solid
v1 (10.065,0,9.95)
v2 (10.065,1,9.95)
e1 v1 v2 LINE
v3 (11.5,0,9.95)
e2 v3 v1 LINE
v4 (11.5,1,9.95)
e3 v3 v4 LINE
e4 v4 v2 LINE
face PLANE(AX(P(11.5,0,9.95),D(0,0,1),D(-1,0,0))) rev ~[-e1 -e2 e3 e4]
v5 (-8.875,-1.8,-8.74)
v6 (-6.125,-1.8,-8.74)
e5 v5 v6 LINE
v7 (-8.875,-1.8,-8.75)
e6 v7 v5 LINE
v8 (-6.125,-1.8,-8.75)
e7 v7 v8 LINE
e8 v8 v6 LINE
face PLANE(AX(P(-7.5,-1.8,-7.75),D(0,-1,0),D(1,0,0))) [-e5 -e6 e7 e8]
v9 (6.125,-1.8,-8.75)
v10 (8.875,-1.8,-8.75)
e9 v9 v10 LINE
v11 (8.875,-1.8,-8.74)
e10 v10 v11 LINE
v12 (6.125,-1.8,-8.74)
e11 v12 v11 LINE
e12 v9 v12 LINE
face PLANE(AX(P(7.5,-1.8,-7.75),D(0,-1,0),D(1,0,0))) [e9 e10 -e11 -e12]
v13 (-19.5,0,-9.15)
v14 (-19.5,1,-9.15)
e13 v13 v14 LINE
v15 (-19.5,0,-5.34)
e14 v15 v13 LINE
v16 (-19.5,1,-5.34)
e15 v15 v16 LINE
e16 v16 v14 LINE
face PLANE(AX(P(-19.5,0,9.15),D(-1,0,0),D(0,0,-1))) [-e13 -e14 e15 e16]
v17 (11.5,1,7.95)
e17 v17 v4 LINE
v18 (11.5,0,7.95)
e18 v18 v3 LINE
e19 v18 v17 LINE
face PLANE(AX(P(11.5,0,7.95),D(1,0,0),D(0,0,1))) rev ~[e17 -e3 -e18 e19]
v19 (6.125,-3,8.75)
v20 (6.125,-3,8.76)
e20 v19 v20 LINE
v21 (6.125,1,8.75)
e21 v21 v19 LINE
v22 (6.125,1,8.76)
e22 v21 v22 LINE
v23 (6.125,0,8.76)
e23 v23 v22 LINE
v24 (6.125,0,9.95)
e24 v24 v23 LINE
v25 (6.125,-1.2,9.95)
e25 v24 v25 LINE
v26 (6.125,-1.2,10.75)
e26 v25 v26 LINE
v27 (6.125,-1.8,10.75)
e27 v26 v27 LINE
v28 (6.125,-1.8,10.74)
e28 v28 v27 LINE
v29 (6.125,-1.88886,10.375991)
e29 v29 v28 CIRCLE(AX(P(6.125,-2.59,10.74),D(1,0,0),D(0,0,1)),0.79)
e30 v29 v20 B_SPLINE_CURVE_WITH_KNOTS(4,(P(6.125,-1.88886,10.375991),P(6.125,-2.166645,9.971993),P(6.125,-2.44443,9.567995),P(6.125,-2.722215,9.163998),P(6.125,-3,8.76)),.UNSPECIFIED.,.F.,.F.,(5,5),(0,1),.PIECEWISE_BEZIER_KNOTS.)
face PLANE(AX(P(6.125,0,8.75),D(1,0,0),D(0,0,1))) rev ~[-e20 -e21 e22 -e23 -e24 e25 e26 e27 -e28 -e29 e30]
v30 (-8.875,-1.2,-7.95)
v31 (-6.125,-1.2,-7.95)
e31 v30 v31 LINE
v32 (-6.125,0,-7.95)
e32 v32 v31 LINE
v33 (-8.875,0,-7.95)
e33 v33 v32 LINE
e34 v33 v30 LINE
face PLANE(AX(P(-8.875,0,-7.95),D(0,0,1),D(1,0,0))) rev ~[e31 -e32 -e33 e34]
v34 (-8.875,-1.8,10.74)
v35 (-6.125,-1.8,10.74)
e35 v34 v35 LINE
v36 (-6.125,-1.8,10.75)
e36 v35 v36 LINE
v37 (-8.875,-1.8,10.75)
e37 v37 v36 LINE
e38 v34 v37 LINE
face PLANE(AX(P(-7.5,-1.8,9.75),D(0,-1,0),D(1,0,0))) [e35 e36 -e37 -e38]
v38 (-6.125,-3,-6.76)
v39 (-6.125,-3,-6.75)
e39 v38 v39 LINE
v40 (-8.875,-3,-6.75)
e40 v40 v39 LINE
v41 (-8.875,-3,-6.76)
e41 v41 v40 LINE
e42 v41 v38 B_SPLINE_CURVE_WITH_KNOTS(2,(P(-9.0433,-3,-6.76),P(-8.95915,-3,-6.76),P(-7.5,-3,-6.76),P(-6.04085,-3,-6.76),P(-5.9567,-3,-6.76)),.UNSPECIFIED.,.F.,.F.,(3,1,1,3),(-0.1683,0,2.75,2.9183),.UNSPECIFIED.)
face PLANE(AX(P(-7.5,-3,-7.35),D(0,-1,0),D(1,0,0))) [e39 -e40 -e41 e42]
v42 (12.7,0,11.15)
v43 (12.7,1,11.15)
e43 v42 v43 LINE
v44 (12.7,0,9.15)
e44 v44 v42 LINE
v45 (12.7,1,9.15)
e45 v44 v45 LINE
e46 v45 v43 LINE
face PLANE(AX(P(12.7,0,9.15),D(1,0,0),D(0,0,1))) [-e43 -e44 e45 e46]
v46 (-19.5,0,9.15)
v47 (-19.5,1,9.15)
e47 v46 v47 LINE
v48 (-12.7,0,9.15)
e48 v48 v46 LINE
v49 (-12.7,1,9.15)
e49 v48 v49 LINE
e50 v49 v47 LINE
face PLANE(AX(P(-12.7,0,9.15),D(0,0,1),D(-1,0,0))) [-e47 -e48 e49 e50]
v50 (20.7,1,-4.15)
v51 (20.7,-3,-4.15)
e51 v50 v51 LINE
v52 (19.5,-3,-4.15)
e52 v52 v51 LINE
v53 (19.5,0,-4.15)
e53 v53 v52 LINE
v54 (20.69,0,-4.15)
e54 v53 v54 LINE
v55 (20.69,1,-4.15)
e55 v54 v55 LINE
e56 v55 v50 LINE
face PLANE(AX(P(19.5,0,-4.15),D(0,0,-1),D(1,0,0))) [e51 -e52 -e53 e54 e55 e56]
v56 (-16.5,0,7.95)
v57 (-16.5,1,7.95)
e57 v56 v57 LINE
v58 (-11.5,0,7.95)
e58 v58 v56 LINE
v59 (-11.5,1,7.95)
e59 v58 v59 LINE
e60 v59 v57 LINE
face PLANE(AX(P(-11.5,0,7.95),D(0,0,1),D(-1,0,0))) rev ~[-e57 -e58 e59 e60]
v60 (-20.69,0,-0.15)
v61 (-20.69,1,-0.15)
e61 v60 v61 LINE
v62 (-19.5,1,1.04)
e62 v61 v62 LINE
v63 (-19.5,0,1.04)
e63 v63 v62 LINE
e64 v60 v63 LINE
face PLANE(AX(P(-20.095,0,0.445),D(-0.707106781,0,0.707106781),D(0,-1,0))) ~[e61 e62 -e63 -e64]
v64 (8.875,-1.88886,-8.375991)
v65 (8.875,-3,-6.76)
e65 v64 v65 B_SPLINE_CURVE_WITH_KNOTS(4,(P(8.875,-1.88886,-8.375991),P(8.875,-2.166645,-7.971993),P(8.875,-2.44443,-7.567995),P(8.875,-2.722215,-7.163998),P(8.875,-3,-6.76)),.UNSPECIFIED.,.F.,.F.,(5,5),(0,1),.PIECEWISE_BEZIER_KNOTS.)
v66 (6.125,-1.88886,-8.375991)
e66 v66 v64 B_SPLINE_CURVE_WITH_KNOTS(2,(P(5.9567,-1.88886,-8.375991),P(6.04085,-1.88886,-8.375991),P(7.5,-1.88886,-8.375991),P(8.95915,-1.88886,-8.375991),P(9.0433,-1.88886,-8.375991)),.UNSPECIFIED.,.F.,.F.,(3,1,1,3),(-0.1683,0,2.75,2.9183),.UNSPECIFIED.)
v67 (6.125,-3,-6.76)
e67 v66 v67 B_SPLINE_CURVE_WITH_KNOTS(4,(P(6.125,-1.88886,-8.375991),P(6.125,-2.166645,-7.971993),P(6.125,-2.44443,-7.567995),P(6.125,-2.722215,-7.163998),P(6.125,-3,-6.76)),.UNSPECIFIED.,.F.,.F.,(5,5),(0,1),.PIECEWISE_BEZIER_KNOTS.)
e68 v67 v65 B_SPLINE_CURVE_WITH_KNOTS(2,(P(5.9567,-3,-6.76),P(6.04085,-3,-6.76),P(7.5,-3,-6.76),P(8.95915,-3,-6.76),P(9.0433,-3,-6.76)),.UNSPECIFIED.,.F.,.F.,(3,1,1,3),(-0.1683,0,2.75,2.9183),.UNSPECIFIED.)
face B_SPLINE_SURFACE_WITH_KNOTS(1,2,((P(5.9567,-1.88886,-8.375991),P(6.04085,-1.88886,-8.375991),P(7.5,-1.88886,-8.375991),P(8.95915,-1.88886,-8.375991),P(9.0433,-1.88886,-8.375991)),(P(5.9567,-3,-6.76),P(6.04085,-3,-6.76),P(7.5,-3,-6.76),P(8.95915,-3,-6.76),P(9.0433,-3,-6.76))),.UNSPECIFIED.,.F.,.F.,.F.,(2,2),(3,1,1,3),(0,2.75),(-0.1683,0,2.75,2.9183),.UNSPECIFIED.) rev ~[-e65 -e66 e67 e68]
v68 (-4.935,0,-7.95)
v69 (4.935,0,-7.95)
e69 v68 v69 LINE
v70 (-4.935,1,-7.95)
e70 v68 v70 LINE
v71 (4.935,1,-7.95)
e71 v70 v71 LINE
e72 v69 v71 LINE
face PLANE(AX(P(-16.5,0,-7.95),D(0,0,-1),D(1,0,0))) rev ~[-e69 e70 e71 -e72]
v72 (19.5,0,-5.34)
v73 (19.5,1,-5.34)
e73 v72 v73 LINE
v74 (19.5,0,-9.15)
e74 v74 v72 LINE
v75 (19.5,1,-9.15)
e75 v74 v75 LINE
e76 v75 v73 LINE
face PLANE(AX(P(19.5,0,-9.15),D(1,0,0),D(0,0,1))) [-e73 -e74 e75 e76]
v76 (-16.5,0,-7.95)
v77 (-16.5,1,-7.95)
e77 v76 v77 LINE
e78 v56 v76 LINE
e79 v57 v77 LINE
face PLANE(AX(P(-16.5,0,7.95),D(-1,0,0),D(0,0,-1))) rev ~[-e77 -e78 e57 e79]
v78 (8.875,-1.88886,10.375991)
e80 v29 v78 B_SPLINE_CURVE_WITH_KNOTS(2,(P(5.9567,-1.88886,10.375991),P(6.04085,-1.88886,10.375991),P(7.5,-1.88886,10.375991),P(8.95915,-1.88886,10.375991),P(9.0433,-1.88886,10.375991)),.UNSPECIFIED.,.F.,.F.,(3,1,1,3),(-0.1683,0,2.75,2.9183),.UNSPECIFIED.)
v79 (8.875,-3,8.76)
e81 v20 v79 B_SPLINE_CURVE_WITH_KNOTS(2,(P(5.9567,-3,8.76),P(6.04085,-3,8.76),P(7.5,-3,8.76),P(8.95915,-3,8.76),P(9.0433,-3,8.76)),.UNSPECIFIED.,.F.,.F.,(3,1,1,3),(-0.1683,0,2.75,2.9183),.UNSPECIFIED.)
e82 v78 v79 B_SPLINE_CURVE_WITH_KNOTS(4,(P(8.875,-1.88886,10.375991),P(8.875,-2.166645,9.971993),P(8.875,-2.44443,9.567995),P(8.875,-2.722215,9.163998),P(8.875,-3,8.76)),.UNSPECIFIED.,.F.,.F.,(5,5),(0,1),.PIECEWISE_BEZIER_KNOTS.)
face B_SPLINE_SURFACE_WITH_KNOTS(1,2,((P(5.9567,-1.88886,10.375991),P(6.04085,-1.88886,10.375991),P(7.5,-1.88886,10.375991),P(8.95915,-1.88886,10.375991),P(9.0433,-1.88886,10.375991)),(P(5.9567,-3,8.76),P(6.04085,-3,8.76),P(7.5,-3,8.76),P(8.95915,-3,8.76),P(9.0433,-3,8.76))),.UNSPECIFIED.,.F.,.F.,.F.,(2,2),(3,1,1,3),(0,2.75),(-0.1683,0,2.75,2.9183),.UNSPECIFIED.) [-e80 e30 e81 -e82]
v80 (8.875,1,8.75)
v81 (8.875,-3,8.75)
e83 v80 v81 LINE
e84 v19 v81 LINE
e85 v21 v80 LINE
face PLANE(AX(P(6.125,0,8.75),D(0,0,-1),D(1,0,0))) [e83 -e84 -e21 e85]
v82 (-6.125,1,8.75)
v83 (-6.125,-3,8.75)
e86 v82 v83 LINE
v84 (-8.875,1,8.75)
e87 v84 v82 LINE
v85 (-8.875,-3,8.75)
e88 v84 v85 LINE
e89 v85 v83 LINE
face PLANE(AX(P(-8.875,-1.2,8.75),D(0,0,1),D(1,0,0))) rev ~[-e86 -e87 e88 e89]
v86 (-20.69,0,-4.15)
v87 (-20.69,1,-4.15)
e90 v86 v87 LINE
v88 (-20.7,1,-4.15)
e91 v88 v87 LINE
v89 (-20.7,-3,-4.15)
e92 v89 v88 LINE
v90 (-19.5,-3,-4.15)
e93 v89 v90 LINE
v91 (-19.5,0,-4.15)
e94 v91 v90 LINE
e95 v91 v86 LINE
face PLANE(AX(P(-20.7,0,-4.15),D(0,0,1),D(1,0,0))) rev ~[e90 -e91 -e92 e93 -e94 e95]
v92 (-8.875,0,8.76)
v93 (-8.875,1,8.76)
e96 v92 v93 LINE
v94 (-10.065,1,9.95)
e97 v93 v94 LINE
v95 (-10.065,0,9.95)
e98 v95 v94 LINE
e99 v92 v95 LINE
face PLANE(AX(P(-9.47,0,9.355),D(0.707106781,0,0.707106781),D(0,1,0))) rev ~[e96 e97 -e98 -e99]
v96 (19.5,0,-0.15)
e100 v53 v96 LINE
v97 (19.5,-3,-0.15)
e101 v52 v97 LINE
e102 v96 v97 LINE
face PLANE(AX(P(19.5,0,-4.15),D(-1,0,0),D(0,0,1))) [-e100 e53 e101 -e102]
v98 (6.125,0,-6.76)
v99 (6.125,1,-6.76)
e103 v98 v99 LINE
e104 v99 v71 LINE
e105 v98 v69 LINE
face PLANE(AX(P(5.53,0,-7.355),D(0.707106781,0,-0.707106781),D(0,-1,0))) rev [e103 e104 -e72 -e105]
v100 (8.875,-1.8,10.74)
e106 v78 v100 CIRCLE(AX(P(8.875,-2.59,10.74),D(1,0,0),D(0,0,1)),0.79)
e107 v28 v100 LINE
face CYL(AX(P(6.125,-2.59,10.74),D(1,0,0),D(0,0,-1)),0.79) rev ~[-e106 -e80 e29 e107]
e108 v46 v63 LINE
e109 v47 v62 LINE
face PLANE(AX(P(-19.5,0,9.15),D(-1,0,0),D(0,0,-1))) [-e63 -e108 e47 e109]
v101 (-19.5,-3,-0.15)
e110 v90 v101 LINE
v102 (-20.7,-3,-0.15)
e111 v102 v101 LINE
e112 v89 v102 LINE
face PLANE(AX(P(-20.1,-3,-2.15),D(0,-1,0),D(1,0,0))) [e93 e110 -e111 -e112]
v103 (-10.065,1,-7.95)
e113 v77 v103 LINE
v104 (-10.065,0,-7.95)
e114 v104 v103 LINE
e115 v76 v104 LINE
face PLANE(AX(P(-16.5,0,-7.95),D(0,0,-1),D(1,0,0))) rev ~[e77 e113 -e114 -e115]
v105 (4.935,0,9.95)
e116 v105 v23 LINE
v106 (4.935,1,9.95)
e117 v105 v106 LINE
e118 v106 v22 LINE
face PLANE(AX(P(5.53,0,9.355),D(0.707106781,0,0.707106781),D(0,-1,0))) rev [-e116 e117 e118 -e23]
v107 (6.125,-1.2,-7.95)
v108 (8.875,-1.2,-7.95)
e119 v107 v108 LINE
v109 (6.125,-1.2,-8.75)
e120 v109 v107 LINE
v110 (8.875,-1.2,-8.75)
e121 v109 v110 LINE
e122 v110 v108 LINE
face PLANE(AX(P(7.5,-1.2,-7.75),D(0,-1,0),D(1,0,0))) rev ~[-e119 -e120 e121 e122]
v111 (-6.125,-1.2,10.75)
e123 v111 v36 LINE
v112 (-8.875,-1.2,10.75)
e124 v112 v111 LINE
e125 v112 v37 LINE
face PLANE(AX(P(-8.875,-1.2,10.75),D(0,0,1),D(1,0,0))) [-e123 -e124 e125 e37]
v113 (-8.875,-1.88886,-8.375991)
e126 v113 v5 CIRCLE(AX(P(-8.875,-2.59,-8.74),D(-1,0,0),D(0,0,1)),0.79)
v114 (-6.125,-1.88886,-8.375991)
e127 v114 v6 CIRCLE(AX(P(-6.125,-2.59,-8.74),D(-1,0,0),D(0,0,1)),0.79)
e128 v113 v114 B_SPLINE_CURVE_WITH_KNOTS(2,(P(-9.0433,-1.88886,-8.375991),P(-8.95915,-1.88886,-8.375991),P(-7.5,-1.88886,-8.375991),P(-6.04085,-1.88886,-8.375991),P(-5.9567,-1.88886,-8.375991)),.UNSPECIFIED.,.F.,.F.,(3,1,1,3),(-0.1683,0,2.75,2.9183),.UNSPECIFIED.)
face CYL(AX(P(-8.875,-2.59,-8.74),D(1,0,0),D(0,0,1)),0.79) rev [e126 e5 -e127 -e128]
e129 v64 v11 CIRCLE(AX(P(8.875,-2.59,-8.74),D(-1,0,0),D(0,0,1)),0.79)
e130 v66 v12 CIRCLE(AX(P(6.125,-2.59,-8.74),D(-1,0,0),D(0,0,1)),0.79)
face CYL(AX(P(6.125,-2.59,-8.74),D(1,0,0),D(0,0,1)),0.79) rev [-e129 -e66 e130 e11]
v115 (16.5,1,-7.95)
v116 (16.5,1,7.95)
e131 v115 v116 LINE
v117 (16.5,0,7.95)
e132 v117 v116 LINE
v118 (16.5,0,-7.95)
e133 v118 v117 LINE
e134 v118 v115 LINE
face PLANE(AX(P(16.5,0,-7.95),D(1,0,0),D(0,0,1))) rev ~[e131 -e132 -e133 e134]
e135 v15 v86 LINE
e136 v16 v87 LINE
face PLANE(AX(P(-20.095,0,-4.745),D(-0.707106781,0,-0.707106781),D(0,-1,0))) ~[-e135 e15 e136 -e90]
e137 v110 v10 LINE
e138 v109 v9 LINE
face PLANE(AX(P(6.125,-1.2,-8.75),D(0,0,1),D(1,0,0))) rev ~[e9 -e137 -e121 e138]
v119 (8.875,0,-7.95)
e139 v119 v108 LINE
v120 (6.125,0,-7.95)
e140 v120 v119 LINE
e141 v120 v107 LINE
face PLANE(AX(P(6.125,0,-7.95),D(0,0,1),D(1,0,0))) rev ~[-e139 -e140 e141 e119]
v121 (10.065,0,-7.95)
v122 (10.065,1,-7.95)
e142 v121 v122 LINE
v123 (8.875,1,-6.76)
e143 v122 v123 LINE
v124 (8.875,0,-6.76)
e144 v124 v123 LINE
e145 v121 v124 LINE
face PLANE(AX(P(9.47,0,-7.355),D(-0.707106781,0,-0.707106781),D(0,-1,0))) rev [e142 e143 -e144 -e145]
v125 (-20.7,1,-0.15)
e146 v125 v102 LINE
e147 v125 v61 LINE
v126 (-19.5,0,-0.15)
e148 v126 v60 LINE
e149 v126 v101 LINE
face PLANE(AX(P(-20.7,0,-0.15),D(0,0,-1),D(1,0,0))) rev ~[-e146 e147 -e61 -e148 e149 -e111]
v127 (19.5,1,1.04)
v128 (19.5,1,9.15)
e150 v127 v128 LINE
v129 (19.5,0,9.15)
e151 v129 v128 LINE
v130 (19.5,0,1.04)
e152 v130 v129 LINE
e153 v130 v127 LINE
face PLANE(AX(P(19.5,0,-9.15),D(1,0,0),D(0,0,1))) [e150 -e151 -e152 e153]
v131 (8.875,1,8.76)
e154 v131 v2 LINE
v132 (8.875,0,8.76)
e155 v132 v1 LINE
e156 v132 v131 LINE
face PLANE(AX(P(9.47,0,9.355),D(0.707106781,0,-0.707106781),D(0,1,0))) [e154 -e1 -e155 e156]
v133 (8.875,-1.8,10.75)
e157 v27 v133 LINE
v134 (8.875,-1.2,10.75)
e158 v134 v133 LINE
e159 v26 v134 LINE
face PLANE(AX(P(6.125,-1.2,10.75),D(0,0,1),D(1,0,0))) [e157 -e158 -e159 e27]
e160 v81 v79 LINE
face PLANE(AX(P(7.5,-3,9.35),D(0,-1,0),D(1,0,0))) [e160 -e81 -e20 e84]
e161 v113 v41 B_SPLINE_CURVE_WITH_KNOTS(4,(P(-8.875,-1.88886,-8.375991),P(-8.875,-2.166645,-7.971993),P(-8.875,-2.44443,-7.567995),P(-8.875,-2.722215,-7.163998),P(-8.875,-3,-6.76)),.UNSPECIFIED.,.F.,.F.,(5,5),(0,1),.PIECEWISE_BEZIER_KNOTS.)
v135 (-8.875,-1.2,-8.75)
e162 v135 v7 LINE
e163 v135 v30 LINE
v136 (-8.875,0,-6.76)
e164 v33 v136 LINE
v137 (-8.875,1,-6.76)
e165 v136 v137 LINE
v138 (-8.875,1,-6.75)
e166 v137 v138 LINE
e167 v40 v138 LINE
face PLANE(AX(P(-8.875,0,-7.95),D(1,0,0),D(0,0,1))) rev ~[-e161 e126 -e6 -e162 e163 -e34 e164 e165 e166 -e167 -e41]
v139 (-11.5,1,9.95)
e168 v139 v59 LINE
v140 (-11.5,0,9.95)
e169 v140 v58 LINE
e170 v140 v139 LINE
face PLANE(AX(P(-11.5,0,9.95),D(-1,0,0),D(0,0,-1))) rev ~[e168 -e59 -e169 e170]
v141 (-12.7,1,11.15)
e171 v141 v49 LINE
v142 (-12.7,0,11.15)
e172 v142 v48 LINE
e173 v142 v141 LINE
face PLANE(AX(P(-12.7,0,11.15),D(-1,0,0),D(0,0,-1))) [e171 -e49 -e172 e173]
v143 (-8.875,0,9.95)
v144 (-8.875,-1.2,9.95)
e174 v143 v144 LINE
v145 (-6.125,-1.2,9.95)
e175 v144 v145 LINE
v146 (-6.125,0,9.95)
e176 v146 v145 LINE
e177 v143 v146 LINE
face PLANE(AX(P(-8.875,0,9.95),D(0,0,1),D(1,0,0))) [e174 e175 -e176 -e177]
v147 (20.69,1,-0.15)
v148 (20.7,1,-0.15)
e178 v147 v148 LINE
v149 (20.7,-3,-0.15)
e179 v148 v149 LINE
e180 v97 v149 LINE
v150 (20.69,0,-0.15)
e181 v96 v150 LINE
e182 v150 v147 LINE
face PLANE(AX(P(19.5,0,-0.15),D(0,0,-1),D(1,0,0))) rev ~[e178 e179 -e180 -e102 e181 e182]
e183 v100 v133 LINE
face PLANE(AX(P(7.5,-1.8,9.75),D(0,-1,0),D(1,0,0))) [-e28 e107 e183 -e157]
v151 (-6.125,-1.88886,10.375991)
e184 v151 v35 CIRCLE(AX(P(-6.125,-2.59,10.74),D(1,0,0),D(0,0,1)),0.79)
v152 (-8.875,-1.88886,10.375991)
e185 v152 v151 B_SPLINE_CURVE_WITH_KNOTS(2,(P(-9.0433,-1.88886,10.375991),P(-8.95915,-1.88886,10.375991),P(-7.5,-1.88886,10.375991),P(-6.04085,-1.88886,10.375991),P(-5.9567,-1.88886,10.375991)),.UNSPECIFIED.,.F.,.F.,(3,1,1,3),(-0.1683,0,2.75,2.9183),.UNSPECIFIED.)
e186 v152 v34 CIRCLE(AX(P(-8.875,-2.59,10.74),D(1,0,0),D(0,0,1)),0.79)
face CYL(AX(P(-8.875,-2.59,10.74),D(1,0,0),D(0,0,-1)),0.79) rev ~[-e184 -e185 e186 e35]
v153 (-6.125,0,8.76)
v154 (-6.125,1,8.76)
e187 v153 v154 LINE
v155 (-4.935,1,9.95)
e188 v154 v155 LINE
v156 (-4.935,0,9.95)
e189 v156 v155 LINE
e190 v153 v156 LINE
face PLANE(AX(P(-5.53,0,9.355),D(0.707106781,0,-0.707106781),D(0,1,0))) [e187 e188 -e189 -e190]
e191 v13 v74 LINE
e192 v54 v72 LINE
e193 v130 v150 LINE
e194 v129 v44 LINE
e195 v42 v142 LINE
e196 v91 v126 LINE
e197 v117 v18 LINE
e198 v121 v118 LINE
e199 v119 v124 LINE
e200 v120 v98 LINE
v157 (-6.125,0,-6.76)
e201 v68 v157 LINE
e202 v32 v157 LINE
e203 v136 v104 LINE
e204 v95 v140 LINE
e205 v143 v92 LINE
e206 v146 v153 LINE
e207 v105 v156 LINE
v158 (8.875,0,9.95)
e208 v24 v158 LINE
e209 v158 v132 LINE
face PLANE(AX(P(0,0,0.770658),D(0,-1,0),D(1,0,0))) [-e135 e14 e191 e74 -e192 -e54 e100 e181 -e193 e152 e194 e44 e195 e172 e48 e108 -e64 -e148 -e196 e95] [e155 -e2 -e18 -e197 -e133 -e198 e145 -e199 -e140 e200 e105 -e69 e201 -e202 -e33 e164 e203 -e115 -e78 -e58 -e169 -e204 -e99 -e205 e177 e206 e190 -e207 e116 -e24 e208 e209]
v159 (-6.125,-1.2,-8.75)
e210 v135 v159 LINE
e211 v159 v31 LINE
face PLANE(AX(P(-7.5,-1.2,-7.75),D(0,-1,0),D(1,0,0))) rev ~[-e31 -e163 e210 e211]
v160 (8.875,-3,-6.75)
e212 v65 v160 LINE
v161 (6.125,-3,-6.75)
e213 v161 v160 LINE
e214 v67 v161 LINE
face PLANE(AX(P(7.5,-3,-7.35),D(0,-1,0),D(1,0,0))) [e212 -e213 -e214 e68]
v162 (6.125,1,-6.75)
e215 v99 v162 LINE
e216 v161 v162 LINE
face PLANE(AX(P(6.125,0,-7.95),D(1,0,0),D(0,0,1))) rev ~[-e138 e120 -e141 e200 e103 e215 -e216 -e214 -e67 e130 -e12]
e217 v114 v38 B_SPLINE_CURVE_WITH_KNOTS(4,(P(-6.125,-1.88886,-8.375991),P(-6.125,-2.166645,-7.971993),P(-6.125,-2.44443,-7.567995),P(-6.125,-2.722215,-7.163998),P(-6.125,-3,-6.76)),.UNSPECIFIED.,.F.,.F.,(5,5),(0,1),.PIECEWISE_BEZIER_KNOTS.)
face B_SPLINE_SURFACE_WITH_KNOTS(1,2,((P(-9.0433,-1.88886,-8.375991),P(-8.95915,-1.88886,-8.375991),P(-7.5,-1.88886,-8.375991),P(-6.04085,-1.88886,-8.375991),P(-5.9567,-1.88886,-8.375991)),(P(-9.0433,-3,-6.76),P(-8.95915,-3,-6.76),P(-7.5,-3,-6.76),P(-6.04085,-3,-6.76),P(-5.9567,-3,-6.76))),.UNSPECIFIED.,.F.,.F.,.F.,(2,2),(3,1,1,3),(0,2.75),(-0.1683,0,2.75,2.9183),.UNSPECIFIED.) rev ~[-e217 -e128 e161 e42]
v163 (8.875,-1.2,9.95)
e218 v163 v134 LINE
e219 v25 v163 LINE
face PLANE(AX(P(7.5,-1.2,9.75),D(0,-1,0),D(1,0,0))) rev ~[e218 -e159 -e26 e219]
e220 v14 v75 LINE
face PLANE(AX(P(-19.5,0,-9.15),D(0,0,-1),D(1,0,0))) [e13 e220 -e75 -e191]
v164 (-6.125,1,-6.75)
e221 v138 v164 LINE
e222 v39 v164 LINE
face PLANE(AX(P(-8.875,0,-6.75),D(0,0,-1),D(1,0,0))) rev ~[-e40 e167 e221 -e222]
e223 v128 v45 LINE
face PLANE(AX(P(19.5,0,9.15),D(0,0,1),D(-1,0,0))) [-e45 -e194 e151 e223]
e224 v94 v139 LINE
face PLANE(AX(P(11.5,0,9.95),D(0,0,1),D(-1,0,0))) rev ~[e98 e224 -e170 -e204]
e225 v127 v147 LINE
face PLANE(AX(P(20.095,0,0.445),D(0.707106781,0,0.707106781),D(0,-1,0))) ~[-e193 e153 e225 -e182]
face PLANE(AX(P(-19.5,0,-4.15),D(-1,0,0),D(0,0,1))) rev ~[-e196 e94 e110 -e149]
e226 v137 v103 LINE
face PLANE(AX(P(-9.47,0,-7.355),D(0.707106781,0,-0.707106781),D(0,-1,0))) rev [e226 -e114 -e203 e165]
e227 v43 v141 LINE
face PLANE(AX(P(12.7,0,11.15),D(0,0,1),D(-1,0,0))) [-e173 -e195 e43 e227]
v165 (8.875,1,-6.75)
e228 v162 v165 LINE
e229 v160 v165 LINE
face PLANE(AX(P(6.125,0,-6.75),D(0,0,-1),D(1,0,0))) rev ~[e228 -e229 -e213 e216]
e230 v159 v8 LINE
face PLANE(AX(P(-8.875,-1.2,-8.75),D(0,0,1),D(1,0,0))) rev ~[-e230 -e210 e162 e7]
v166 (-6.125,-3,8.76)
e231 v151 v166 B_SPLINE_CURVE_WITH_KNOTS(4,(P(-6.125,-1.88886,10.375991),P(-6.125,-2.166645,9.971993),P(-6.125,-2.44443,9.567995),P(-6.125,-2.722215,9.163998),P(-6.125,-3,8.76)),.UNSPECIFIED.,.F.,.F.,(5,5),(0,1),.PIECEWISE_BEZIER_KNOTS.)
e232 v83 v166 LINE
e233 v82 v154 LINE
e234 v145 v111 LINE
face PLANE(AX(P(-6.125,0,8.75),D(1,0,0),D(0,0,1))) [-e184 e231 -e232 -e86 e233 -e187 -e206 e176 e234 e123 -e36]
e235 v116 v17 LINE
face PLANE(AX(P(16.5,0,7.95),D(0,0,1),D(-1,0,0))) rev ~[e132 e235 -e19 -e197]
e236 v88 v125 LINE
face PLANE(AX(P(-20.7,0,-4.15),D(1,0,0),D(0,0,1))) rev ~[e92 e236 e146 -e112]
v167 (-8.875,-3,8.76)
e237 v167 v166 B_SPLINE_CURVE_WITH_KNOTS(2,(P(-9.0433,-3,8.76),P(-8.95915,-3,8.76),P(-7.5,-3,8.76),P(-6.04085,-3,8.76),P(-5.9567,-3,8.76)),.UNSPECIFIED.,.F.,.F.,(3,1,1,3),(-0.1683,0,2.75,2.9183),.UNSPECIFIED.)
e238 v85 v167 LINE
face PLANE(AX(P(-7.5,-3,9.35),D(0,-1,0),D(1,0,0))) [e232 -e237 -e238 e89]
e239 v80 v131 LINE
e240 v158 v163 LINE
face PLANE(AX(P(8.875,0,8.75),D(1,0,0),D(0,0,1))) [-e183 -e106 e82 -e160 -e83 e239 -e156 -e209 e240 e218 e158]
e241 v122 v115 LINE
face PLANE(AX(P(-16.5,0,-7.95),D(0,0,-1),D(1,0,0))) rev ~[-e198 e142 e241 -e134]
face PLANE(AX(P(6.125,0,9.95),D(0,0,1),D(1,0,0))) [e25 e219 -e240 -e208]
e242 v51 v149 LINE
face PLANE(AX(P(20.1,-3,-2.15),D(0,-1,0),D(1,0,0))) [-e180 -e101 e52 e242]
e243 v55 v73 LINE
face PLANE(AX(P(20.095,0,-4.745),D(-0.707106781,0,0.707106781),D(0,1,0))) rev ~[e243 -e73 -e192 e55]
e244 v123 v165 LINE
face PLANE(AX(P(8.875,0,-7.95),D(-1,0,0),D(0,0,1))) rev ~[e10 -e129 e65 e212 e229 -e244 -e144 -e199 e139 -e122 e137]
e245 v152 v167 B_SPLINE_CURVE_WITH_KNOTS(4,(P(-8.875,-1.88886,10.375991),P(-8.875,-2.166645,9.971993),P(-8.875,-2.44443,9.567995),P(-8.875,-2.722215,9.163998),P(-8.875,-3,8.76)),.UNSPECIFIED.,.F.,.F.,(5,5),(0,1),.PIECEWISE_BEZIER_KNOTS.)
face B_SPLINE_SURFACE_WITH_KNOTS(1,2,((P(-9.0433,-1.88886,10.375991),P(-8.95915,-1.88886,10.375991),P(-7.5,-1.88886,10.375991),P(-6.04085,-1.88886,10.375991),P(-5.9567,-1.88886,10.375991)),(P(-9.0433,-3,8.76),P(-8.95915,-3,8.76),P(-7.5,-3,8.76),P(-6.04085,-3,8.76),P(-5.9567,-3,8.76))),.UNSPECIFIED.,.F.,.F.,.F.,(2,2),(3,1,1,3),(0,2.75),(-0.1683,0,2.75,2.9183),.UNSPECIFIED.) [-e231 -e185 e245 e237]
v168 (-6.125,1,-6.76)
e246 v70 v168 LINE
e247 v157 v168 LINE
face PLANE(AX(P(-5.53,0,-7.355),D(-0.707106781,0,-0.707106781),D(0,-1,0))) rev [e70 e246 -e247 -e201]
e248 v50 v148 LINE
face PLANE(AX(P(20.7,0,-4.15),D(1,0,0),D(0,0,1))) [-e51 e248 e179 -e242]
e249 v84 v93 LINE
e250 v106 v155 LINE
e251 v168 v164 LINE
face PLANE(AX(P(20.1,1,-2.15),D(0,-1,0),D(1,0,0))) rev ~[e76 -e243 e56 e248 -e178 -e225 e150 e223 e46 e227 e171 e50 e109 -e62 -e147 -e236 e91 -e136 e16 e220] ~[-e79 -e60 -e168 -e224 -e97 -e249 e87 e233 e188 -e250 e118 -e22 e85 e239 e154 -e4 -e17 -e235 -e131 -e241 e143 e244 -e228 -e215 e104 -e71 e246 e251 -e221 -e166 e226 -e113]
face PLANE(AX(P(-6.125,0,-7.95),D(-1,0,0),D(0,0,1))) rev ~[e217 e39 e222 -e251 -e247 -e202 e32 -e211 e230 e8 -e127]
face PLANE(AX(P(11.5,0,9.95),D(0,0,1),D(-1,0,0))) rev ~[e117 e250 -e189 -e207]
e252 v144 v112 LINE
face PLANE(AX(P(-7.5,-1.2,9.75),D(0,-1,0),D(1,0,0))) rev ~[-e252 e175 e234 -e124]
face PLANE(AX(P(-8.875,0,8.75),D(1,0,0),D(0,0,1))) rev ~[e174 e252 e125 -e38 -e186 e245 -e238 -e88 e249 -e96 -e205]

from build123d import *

# Parameters (mm, degrees)
PAD_DEPTH         = 1
SKETCH001_W       = 2.75
SKETCH001_H       = 1.2
PAD001_DEPTH      = 3
PAD001_DEPTH_BACK = 1
CHAMFER_SIZE      = 1.19
SKETCH002_W       = 2.75
SKETCH002_H       = 2
PAD002_DEPTH      = 0.6
FILLET_R          = 0.79
CHAMFER001_SIZE   = 1.19
SKETCH003_W       = 1.2
SKETCH003_H       = 4
PAD003_DEPTH      = 3
PAD003_DEPTH_BACK = 1
CHAMFER002_SIZE   = 1.19


with BuildPart() as part:
    # Sketch → Pad (new body)
    with BuildSketch(Plane.XZ):
        Polygon((-19.5, -9.15), (19.5, -9.15), (19.5, 9.15), (12.7, 9.15), (12.7, 11.15), (-12.7, 11.15), (-12.7, 9.15), (-19.5, 9.15), align=None)
        Polygon((-16.5, -7.95), (16.5, -7.95), (16.5, 7.95), (11.5, 7.95), (11.5, 9.95), (-11.5, 9.95), (-11.5, 7.95), (-16.5, 7.95), align=None, mode=Mode.SUBTRACT)
    extrude(amount=-PAD_DEPTH)

    # Sketch001 → Pad001 (join, two sides)
    with BuildSketch(Plane.XZ) as pad001_sk:
        with Locations((-7.5, 9.35)):
            Rectangle(SKETCH001_W, SKETCH001_H)
        with Locations((7.5, 9.35)):
            Rectangle(SKETCH001_W, SKETCH001_H)
        with Locations((-7.5, -7.35)):
            Rectangle(SKETCH001_W, SKETCH001_H)
        with Locations((7.5, -7.35)):
            Rectangle(SKETCH001_W, SKETCH001_H)
    extrude(amount=PAD001_DEPTH)
    extrude(pad001_sk.sketch, amount=-PAD001_DEPTH_BACK)

    # Chamfer
    chamfer_edges = [part.edges().sort_by_distance(p)[0] for p in [
        (-6.125, 0.5, -7.95),
        (-8.875, 0.5, -7.95),
        (6.125, 0.5, -7.95),
        (8.875, 0.5, -7.95),
        (8.875, 0.5, 9.95),
        (6.125, 0.5, 9.95),
        (-6.125, 0.5, 9.95),
        (-8.875, 0.5, 9.95),
    ]]
    chamfer(chamfer_edges, length=CHAMFER_SIZE)

    # Sketch002 (on DatumPlane) → Pad002 (join)
    with BuildSketch(Plane.XZ.offset(1.2)):
        with Locations((-7.5, 9.75)):
            Rectangle(SKETCH002_W, SKETCH002_H)
        with Locations((7.5, 9.75)):
            Rectangle(SKETCH002_W, SKETCH002_H)
        with Locations((7.5, -7.75)):
            Rectangle(SKETCH002_W, SKETCH002_H)
        with Locations((-7.5, -7.75)):
            Rectangle(SKETCH002_W, SKETCH002_H)
    extrude(amount=PAD002_DEPTH)

    # Fillet
    fillet_edges = [part.edges().sort_by_distance(p)[0] for p in [
        (7.5, -1.8, 9.95),
        (-7.5, -1.8, 9.95),
        (-7.5, -1.8, -7.95),
        (7.5, -1.8, -7.95),
    ]]
    fillet(fillet_edges, radius=FILLET_R)

    # Chamfer001
    chamfer001_edges = [part.edges().sort_by_distance(p)[0] for p in [
        (7.5, -3, 9.95),
        (-7.5, -3, 9.95),
        (-7.5, -3, -7.95),
        (7.5, -3, -7.95),
    ]]
    chamfer(chamfer001_edges, length=CHAMFER001_SIZE)

    # Sketch003 → Pad003 (join, two sides)
    with BuildSketch(Plane.XZ) as pad003_sk:
        with Locations((20.1, -2.15)):
            Rectangle(SKETCH003_W, SKETCH003_H)
        with Locations((-20.1, -2.15)):
            Rectangle(SKETCH003_W, SKETCH003_H)
    extrude(amount=PAD003_DEPTH)
    extrude(pad003_sk.sketch, amount=-PAD003_DEPTH_BACK)

    # Chamfer002
    chamfer002_edges = [part.edges().sort_by_distance(p)[0] for p in [
        (-19.5, 0.5, -4.15),
        (-19.5, 0.5, -0.15),
        (19.5, 0.5, -4.15),
        (19.5, 0.5, -0.15),
    ]]
    chamfer(chamfer002_edges, length=CHAMFER002_SIZE)


solid = part.part
